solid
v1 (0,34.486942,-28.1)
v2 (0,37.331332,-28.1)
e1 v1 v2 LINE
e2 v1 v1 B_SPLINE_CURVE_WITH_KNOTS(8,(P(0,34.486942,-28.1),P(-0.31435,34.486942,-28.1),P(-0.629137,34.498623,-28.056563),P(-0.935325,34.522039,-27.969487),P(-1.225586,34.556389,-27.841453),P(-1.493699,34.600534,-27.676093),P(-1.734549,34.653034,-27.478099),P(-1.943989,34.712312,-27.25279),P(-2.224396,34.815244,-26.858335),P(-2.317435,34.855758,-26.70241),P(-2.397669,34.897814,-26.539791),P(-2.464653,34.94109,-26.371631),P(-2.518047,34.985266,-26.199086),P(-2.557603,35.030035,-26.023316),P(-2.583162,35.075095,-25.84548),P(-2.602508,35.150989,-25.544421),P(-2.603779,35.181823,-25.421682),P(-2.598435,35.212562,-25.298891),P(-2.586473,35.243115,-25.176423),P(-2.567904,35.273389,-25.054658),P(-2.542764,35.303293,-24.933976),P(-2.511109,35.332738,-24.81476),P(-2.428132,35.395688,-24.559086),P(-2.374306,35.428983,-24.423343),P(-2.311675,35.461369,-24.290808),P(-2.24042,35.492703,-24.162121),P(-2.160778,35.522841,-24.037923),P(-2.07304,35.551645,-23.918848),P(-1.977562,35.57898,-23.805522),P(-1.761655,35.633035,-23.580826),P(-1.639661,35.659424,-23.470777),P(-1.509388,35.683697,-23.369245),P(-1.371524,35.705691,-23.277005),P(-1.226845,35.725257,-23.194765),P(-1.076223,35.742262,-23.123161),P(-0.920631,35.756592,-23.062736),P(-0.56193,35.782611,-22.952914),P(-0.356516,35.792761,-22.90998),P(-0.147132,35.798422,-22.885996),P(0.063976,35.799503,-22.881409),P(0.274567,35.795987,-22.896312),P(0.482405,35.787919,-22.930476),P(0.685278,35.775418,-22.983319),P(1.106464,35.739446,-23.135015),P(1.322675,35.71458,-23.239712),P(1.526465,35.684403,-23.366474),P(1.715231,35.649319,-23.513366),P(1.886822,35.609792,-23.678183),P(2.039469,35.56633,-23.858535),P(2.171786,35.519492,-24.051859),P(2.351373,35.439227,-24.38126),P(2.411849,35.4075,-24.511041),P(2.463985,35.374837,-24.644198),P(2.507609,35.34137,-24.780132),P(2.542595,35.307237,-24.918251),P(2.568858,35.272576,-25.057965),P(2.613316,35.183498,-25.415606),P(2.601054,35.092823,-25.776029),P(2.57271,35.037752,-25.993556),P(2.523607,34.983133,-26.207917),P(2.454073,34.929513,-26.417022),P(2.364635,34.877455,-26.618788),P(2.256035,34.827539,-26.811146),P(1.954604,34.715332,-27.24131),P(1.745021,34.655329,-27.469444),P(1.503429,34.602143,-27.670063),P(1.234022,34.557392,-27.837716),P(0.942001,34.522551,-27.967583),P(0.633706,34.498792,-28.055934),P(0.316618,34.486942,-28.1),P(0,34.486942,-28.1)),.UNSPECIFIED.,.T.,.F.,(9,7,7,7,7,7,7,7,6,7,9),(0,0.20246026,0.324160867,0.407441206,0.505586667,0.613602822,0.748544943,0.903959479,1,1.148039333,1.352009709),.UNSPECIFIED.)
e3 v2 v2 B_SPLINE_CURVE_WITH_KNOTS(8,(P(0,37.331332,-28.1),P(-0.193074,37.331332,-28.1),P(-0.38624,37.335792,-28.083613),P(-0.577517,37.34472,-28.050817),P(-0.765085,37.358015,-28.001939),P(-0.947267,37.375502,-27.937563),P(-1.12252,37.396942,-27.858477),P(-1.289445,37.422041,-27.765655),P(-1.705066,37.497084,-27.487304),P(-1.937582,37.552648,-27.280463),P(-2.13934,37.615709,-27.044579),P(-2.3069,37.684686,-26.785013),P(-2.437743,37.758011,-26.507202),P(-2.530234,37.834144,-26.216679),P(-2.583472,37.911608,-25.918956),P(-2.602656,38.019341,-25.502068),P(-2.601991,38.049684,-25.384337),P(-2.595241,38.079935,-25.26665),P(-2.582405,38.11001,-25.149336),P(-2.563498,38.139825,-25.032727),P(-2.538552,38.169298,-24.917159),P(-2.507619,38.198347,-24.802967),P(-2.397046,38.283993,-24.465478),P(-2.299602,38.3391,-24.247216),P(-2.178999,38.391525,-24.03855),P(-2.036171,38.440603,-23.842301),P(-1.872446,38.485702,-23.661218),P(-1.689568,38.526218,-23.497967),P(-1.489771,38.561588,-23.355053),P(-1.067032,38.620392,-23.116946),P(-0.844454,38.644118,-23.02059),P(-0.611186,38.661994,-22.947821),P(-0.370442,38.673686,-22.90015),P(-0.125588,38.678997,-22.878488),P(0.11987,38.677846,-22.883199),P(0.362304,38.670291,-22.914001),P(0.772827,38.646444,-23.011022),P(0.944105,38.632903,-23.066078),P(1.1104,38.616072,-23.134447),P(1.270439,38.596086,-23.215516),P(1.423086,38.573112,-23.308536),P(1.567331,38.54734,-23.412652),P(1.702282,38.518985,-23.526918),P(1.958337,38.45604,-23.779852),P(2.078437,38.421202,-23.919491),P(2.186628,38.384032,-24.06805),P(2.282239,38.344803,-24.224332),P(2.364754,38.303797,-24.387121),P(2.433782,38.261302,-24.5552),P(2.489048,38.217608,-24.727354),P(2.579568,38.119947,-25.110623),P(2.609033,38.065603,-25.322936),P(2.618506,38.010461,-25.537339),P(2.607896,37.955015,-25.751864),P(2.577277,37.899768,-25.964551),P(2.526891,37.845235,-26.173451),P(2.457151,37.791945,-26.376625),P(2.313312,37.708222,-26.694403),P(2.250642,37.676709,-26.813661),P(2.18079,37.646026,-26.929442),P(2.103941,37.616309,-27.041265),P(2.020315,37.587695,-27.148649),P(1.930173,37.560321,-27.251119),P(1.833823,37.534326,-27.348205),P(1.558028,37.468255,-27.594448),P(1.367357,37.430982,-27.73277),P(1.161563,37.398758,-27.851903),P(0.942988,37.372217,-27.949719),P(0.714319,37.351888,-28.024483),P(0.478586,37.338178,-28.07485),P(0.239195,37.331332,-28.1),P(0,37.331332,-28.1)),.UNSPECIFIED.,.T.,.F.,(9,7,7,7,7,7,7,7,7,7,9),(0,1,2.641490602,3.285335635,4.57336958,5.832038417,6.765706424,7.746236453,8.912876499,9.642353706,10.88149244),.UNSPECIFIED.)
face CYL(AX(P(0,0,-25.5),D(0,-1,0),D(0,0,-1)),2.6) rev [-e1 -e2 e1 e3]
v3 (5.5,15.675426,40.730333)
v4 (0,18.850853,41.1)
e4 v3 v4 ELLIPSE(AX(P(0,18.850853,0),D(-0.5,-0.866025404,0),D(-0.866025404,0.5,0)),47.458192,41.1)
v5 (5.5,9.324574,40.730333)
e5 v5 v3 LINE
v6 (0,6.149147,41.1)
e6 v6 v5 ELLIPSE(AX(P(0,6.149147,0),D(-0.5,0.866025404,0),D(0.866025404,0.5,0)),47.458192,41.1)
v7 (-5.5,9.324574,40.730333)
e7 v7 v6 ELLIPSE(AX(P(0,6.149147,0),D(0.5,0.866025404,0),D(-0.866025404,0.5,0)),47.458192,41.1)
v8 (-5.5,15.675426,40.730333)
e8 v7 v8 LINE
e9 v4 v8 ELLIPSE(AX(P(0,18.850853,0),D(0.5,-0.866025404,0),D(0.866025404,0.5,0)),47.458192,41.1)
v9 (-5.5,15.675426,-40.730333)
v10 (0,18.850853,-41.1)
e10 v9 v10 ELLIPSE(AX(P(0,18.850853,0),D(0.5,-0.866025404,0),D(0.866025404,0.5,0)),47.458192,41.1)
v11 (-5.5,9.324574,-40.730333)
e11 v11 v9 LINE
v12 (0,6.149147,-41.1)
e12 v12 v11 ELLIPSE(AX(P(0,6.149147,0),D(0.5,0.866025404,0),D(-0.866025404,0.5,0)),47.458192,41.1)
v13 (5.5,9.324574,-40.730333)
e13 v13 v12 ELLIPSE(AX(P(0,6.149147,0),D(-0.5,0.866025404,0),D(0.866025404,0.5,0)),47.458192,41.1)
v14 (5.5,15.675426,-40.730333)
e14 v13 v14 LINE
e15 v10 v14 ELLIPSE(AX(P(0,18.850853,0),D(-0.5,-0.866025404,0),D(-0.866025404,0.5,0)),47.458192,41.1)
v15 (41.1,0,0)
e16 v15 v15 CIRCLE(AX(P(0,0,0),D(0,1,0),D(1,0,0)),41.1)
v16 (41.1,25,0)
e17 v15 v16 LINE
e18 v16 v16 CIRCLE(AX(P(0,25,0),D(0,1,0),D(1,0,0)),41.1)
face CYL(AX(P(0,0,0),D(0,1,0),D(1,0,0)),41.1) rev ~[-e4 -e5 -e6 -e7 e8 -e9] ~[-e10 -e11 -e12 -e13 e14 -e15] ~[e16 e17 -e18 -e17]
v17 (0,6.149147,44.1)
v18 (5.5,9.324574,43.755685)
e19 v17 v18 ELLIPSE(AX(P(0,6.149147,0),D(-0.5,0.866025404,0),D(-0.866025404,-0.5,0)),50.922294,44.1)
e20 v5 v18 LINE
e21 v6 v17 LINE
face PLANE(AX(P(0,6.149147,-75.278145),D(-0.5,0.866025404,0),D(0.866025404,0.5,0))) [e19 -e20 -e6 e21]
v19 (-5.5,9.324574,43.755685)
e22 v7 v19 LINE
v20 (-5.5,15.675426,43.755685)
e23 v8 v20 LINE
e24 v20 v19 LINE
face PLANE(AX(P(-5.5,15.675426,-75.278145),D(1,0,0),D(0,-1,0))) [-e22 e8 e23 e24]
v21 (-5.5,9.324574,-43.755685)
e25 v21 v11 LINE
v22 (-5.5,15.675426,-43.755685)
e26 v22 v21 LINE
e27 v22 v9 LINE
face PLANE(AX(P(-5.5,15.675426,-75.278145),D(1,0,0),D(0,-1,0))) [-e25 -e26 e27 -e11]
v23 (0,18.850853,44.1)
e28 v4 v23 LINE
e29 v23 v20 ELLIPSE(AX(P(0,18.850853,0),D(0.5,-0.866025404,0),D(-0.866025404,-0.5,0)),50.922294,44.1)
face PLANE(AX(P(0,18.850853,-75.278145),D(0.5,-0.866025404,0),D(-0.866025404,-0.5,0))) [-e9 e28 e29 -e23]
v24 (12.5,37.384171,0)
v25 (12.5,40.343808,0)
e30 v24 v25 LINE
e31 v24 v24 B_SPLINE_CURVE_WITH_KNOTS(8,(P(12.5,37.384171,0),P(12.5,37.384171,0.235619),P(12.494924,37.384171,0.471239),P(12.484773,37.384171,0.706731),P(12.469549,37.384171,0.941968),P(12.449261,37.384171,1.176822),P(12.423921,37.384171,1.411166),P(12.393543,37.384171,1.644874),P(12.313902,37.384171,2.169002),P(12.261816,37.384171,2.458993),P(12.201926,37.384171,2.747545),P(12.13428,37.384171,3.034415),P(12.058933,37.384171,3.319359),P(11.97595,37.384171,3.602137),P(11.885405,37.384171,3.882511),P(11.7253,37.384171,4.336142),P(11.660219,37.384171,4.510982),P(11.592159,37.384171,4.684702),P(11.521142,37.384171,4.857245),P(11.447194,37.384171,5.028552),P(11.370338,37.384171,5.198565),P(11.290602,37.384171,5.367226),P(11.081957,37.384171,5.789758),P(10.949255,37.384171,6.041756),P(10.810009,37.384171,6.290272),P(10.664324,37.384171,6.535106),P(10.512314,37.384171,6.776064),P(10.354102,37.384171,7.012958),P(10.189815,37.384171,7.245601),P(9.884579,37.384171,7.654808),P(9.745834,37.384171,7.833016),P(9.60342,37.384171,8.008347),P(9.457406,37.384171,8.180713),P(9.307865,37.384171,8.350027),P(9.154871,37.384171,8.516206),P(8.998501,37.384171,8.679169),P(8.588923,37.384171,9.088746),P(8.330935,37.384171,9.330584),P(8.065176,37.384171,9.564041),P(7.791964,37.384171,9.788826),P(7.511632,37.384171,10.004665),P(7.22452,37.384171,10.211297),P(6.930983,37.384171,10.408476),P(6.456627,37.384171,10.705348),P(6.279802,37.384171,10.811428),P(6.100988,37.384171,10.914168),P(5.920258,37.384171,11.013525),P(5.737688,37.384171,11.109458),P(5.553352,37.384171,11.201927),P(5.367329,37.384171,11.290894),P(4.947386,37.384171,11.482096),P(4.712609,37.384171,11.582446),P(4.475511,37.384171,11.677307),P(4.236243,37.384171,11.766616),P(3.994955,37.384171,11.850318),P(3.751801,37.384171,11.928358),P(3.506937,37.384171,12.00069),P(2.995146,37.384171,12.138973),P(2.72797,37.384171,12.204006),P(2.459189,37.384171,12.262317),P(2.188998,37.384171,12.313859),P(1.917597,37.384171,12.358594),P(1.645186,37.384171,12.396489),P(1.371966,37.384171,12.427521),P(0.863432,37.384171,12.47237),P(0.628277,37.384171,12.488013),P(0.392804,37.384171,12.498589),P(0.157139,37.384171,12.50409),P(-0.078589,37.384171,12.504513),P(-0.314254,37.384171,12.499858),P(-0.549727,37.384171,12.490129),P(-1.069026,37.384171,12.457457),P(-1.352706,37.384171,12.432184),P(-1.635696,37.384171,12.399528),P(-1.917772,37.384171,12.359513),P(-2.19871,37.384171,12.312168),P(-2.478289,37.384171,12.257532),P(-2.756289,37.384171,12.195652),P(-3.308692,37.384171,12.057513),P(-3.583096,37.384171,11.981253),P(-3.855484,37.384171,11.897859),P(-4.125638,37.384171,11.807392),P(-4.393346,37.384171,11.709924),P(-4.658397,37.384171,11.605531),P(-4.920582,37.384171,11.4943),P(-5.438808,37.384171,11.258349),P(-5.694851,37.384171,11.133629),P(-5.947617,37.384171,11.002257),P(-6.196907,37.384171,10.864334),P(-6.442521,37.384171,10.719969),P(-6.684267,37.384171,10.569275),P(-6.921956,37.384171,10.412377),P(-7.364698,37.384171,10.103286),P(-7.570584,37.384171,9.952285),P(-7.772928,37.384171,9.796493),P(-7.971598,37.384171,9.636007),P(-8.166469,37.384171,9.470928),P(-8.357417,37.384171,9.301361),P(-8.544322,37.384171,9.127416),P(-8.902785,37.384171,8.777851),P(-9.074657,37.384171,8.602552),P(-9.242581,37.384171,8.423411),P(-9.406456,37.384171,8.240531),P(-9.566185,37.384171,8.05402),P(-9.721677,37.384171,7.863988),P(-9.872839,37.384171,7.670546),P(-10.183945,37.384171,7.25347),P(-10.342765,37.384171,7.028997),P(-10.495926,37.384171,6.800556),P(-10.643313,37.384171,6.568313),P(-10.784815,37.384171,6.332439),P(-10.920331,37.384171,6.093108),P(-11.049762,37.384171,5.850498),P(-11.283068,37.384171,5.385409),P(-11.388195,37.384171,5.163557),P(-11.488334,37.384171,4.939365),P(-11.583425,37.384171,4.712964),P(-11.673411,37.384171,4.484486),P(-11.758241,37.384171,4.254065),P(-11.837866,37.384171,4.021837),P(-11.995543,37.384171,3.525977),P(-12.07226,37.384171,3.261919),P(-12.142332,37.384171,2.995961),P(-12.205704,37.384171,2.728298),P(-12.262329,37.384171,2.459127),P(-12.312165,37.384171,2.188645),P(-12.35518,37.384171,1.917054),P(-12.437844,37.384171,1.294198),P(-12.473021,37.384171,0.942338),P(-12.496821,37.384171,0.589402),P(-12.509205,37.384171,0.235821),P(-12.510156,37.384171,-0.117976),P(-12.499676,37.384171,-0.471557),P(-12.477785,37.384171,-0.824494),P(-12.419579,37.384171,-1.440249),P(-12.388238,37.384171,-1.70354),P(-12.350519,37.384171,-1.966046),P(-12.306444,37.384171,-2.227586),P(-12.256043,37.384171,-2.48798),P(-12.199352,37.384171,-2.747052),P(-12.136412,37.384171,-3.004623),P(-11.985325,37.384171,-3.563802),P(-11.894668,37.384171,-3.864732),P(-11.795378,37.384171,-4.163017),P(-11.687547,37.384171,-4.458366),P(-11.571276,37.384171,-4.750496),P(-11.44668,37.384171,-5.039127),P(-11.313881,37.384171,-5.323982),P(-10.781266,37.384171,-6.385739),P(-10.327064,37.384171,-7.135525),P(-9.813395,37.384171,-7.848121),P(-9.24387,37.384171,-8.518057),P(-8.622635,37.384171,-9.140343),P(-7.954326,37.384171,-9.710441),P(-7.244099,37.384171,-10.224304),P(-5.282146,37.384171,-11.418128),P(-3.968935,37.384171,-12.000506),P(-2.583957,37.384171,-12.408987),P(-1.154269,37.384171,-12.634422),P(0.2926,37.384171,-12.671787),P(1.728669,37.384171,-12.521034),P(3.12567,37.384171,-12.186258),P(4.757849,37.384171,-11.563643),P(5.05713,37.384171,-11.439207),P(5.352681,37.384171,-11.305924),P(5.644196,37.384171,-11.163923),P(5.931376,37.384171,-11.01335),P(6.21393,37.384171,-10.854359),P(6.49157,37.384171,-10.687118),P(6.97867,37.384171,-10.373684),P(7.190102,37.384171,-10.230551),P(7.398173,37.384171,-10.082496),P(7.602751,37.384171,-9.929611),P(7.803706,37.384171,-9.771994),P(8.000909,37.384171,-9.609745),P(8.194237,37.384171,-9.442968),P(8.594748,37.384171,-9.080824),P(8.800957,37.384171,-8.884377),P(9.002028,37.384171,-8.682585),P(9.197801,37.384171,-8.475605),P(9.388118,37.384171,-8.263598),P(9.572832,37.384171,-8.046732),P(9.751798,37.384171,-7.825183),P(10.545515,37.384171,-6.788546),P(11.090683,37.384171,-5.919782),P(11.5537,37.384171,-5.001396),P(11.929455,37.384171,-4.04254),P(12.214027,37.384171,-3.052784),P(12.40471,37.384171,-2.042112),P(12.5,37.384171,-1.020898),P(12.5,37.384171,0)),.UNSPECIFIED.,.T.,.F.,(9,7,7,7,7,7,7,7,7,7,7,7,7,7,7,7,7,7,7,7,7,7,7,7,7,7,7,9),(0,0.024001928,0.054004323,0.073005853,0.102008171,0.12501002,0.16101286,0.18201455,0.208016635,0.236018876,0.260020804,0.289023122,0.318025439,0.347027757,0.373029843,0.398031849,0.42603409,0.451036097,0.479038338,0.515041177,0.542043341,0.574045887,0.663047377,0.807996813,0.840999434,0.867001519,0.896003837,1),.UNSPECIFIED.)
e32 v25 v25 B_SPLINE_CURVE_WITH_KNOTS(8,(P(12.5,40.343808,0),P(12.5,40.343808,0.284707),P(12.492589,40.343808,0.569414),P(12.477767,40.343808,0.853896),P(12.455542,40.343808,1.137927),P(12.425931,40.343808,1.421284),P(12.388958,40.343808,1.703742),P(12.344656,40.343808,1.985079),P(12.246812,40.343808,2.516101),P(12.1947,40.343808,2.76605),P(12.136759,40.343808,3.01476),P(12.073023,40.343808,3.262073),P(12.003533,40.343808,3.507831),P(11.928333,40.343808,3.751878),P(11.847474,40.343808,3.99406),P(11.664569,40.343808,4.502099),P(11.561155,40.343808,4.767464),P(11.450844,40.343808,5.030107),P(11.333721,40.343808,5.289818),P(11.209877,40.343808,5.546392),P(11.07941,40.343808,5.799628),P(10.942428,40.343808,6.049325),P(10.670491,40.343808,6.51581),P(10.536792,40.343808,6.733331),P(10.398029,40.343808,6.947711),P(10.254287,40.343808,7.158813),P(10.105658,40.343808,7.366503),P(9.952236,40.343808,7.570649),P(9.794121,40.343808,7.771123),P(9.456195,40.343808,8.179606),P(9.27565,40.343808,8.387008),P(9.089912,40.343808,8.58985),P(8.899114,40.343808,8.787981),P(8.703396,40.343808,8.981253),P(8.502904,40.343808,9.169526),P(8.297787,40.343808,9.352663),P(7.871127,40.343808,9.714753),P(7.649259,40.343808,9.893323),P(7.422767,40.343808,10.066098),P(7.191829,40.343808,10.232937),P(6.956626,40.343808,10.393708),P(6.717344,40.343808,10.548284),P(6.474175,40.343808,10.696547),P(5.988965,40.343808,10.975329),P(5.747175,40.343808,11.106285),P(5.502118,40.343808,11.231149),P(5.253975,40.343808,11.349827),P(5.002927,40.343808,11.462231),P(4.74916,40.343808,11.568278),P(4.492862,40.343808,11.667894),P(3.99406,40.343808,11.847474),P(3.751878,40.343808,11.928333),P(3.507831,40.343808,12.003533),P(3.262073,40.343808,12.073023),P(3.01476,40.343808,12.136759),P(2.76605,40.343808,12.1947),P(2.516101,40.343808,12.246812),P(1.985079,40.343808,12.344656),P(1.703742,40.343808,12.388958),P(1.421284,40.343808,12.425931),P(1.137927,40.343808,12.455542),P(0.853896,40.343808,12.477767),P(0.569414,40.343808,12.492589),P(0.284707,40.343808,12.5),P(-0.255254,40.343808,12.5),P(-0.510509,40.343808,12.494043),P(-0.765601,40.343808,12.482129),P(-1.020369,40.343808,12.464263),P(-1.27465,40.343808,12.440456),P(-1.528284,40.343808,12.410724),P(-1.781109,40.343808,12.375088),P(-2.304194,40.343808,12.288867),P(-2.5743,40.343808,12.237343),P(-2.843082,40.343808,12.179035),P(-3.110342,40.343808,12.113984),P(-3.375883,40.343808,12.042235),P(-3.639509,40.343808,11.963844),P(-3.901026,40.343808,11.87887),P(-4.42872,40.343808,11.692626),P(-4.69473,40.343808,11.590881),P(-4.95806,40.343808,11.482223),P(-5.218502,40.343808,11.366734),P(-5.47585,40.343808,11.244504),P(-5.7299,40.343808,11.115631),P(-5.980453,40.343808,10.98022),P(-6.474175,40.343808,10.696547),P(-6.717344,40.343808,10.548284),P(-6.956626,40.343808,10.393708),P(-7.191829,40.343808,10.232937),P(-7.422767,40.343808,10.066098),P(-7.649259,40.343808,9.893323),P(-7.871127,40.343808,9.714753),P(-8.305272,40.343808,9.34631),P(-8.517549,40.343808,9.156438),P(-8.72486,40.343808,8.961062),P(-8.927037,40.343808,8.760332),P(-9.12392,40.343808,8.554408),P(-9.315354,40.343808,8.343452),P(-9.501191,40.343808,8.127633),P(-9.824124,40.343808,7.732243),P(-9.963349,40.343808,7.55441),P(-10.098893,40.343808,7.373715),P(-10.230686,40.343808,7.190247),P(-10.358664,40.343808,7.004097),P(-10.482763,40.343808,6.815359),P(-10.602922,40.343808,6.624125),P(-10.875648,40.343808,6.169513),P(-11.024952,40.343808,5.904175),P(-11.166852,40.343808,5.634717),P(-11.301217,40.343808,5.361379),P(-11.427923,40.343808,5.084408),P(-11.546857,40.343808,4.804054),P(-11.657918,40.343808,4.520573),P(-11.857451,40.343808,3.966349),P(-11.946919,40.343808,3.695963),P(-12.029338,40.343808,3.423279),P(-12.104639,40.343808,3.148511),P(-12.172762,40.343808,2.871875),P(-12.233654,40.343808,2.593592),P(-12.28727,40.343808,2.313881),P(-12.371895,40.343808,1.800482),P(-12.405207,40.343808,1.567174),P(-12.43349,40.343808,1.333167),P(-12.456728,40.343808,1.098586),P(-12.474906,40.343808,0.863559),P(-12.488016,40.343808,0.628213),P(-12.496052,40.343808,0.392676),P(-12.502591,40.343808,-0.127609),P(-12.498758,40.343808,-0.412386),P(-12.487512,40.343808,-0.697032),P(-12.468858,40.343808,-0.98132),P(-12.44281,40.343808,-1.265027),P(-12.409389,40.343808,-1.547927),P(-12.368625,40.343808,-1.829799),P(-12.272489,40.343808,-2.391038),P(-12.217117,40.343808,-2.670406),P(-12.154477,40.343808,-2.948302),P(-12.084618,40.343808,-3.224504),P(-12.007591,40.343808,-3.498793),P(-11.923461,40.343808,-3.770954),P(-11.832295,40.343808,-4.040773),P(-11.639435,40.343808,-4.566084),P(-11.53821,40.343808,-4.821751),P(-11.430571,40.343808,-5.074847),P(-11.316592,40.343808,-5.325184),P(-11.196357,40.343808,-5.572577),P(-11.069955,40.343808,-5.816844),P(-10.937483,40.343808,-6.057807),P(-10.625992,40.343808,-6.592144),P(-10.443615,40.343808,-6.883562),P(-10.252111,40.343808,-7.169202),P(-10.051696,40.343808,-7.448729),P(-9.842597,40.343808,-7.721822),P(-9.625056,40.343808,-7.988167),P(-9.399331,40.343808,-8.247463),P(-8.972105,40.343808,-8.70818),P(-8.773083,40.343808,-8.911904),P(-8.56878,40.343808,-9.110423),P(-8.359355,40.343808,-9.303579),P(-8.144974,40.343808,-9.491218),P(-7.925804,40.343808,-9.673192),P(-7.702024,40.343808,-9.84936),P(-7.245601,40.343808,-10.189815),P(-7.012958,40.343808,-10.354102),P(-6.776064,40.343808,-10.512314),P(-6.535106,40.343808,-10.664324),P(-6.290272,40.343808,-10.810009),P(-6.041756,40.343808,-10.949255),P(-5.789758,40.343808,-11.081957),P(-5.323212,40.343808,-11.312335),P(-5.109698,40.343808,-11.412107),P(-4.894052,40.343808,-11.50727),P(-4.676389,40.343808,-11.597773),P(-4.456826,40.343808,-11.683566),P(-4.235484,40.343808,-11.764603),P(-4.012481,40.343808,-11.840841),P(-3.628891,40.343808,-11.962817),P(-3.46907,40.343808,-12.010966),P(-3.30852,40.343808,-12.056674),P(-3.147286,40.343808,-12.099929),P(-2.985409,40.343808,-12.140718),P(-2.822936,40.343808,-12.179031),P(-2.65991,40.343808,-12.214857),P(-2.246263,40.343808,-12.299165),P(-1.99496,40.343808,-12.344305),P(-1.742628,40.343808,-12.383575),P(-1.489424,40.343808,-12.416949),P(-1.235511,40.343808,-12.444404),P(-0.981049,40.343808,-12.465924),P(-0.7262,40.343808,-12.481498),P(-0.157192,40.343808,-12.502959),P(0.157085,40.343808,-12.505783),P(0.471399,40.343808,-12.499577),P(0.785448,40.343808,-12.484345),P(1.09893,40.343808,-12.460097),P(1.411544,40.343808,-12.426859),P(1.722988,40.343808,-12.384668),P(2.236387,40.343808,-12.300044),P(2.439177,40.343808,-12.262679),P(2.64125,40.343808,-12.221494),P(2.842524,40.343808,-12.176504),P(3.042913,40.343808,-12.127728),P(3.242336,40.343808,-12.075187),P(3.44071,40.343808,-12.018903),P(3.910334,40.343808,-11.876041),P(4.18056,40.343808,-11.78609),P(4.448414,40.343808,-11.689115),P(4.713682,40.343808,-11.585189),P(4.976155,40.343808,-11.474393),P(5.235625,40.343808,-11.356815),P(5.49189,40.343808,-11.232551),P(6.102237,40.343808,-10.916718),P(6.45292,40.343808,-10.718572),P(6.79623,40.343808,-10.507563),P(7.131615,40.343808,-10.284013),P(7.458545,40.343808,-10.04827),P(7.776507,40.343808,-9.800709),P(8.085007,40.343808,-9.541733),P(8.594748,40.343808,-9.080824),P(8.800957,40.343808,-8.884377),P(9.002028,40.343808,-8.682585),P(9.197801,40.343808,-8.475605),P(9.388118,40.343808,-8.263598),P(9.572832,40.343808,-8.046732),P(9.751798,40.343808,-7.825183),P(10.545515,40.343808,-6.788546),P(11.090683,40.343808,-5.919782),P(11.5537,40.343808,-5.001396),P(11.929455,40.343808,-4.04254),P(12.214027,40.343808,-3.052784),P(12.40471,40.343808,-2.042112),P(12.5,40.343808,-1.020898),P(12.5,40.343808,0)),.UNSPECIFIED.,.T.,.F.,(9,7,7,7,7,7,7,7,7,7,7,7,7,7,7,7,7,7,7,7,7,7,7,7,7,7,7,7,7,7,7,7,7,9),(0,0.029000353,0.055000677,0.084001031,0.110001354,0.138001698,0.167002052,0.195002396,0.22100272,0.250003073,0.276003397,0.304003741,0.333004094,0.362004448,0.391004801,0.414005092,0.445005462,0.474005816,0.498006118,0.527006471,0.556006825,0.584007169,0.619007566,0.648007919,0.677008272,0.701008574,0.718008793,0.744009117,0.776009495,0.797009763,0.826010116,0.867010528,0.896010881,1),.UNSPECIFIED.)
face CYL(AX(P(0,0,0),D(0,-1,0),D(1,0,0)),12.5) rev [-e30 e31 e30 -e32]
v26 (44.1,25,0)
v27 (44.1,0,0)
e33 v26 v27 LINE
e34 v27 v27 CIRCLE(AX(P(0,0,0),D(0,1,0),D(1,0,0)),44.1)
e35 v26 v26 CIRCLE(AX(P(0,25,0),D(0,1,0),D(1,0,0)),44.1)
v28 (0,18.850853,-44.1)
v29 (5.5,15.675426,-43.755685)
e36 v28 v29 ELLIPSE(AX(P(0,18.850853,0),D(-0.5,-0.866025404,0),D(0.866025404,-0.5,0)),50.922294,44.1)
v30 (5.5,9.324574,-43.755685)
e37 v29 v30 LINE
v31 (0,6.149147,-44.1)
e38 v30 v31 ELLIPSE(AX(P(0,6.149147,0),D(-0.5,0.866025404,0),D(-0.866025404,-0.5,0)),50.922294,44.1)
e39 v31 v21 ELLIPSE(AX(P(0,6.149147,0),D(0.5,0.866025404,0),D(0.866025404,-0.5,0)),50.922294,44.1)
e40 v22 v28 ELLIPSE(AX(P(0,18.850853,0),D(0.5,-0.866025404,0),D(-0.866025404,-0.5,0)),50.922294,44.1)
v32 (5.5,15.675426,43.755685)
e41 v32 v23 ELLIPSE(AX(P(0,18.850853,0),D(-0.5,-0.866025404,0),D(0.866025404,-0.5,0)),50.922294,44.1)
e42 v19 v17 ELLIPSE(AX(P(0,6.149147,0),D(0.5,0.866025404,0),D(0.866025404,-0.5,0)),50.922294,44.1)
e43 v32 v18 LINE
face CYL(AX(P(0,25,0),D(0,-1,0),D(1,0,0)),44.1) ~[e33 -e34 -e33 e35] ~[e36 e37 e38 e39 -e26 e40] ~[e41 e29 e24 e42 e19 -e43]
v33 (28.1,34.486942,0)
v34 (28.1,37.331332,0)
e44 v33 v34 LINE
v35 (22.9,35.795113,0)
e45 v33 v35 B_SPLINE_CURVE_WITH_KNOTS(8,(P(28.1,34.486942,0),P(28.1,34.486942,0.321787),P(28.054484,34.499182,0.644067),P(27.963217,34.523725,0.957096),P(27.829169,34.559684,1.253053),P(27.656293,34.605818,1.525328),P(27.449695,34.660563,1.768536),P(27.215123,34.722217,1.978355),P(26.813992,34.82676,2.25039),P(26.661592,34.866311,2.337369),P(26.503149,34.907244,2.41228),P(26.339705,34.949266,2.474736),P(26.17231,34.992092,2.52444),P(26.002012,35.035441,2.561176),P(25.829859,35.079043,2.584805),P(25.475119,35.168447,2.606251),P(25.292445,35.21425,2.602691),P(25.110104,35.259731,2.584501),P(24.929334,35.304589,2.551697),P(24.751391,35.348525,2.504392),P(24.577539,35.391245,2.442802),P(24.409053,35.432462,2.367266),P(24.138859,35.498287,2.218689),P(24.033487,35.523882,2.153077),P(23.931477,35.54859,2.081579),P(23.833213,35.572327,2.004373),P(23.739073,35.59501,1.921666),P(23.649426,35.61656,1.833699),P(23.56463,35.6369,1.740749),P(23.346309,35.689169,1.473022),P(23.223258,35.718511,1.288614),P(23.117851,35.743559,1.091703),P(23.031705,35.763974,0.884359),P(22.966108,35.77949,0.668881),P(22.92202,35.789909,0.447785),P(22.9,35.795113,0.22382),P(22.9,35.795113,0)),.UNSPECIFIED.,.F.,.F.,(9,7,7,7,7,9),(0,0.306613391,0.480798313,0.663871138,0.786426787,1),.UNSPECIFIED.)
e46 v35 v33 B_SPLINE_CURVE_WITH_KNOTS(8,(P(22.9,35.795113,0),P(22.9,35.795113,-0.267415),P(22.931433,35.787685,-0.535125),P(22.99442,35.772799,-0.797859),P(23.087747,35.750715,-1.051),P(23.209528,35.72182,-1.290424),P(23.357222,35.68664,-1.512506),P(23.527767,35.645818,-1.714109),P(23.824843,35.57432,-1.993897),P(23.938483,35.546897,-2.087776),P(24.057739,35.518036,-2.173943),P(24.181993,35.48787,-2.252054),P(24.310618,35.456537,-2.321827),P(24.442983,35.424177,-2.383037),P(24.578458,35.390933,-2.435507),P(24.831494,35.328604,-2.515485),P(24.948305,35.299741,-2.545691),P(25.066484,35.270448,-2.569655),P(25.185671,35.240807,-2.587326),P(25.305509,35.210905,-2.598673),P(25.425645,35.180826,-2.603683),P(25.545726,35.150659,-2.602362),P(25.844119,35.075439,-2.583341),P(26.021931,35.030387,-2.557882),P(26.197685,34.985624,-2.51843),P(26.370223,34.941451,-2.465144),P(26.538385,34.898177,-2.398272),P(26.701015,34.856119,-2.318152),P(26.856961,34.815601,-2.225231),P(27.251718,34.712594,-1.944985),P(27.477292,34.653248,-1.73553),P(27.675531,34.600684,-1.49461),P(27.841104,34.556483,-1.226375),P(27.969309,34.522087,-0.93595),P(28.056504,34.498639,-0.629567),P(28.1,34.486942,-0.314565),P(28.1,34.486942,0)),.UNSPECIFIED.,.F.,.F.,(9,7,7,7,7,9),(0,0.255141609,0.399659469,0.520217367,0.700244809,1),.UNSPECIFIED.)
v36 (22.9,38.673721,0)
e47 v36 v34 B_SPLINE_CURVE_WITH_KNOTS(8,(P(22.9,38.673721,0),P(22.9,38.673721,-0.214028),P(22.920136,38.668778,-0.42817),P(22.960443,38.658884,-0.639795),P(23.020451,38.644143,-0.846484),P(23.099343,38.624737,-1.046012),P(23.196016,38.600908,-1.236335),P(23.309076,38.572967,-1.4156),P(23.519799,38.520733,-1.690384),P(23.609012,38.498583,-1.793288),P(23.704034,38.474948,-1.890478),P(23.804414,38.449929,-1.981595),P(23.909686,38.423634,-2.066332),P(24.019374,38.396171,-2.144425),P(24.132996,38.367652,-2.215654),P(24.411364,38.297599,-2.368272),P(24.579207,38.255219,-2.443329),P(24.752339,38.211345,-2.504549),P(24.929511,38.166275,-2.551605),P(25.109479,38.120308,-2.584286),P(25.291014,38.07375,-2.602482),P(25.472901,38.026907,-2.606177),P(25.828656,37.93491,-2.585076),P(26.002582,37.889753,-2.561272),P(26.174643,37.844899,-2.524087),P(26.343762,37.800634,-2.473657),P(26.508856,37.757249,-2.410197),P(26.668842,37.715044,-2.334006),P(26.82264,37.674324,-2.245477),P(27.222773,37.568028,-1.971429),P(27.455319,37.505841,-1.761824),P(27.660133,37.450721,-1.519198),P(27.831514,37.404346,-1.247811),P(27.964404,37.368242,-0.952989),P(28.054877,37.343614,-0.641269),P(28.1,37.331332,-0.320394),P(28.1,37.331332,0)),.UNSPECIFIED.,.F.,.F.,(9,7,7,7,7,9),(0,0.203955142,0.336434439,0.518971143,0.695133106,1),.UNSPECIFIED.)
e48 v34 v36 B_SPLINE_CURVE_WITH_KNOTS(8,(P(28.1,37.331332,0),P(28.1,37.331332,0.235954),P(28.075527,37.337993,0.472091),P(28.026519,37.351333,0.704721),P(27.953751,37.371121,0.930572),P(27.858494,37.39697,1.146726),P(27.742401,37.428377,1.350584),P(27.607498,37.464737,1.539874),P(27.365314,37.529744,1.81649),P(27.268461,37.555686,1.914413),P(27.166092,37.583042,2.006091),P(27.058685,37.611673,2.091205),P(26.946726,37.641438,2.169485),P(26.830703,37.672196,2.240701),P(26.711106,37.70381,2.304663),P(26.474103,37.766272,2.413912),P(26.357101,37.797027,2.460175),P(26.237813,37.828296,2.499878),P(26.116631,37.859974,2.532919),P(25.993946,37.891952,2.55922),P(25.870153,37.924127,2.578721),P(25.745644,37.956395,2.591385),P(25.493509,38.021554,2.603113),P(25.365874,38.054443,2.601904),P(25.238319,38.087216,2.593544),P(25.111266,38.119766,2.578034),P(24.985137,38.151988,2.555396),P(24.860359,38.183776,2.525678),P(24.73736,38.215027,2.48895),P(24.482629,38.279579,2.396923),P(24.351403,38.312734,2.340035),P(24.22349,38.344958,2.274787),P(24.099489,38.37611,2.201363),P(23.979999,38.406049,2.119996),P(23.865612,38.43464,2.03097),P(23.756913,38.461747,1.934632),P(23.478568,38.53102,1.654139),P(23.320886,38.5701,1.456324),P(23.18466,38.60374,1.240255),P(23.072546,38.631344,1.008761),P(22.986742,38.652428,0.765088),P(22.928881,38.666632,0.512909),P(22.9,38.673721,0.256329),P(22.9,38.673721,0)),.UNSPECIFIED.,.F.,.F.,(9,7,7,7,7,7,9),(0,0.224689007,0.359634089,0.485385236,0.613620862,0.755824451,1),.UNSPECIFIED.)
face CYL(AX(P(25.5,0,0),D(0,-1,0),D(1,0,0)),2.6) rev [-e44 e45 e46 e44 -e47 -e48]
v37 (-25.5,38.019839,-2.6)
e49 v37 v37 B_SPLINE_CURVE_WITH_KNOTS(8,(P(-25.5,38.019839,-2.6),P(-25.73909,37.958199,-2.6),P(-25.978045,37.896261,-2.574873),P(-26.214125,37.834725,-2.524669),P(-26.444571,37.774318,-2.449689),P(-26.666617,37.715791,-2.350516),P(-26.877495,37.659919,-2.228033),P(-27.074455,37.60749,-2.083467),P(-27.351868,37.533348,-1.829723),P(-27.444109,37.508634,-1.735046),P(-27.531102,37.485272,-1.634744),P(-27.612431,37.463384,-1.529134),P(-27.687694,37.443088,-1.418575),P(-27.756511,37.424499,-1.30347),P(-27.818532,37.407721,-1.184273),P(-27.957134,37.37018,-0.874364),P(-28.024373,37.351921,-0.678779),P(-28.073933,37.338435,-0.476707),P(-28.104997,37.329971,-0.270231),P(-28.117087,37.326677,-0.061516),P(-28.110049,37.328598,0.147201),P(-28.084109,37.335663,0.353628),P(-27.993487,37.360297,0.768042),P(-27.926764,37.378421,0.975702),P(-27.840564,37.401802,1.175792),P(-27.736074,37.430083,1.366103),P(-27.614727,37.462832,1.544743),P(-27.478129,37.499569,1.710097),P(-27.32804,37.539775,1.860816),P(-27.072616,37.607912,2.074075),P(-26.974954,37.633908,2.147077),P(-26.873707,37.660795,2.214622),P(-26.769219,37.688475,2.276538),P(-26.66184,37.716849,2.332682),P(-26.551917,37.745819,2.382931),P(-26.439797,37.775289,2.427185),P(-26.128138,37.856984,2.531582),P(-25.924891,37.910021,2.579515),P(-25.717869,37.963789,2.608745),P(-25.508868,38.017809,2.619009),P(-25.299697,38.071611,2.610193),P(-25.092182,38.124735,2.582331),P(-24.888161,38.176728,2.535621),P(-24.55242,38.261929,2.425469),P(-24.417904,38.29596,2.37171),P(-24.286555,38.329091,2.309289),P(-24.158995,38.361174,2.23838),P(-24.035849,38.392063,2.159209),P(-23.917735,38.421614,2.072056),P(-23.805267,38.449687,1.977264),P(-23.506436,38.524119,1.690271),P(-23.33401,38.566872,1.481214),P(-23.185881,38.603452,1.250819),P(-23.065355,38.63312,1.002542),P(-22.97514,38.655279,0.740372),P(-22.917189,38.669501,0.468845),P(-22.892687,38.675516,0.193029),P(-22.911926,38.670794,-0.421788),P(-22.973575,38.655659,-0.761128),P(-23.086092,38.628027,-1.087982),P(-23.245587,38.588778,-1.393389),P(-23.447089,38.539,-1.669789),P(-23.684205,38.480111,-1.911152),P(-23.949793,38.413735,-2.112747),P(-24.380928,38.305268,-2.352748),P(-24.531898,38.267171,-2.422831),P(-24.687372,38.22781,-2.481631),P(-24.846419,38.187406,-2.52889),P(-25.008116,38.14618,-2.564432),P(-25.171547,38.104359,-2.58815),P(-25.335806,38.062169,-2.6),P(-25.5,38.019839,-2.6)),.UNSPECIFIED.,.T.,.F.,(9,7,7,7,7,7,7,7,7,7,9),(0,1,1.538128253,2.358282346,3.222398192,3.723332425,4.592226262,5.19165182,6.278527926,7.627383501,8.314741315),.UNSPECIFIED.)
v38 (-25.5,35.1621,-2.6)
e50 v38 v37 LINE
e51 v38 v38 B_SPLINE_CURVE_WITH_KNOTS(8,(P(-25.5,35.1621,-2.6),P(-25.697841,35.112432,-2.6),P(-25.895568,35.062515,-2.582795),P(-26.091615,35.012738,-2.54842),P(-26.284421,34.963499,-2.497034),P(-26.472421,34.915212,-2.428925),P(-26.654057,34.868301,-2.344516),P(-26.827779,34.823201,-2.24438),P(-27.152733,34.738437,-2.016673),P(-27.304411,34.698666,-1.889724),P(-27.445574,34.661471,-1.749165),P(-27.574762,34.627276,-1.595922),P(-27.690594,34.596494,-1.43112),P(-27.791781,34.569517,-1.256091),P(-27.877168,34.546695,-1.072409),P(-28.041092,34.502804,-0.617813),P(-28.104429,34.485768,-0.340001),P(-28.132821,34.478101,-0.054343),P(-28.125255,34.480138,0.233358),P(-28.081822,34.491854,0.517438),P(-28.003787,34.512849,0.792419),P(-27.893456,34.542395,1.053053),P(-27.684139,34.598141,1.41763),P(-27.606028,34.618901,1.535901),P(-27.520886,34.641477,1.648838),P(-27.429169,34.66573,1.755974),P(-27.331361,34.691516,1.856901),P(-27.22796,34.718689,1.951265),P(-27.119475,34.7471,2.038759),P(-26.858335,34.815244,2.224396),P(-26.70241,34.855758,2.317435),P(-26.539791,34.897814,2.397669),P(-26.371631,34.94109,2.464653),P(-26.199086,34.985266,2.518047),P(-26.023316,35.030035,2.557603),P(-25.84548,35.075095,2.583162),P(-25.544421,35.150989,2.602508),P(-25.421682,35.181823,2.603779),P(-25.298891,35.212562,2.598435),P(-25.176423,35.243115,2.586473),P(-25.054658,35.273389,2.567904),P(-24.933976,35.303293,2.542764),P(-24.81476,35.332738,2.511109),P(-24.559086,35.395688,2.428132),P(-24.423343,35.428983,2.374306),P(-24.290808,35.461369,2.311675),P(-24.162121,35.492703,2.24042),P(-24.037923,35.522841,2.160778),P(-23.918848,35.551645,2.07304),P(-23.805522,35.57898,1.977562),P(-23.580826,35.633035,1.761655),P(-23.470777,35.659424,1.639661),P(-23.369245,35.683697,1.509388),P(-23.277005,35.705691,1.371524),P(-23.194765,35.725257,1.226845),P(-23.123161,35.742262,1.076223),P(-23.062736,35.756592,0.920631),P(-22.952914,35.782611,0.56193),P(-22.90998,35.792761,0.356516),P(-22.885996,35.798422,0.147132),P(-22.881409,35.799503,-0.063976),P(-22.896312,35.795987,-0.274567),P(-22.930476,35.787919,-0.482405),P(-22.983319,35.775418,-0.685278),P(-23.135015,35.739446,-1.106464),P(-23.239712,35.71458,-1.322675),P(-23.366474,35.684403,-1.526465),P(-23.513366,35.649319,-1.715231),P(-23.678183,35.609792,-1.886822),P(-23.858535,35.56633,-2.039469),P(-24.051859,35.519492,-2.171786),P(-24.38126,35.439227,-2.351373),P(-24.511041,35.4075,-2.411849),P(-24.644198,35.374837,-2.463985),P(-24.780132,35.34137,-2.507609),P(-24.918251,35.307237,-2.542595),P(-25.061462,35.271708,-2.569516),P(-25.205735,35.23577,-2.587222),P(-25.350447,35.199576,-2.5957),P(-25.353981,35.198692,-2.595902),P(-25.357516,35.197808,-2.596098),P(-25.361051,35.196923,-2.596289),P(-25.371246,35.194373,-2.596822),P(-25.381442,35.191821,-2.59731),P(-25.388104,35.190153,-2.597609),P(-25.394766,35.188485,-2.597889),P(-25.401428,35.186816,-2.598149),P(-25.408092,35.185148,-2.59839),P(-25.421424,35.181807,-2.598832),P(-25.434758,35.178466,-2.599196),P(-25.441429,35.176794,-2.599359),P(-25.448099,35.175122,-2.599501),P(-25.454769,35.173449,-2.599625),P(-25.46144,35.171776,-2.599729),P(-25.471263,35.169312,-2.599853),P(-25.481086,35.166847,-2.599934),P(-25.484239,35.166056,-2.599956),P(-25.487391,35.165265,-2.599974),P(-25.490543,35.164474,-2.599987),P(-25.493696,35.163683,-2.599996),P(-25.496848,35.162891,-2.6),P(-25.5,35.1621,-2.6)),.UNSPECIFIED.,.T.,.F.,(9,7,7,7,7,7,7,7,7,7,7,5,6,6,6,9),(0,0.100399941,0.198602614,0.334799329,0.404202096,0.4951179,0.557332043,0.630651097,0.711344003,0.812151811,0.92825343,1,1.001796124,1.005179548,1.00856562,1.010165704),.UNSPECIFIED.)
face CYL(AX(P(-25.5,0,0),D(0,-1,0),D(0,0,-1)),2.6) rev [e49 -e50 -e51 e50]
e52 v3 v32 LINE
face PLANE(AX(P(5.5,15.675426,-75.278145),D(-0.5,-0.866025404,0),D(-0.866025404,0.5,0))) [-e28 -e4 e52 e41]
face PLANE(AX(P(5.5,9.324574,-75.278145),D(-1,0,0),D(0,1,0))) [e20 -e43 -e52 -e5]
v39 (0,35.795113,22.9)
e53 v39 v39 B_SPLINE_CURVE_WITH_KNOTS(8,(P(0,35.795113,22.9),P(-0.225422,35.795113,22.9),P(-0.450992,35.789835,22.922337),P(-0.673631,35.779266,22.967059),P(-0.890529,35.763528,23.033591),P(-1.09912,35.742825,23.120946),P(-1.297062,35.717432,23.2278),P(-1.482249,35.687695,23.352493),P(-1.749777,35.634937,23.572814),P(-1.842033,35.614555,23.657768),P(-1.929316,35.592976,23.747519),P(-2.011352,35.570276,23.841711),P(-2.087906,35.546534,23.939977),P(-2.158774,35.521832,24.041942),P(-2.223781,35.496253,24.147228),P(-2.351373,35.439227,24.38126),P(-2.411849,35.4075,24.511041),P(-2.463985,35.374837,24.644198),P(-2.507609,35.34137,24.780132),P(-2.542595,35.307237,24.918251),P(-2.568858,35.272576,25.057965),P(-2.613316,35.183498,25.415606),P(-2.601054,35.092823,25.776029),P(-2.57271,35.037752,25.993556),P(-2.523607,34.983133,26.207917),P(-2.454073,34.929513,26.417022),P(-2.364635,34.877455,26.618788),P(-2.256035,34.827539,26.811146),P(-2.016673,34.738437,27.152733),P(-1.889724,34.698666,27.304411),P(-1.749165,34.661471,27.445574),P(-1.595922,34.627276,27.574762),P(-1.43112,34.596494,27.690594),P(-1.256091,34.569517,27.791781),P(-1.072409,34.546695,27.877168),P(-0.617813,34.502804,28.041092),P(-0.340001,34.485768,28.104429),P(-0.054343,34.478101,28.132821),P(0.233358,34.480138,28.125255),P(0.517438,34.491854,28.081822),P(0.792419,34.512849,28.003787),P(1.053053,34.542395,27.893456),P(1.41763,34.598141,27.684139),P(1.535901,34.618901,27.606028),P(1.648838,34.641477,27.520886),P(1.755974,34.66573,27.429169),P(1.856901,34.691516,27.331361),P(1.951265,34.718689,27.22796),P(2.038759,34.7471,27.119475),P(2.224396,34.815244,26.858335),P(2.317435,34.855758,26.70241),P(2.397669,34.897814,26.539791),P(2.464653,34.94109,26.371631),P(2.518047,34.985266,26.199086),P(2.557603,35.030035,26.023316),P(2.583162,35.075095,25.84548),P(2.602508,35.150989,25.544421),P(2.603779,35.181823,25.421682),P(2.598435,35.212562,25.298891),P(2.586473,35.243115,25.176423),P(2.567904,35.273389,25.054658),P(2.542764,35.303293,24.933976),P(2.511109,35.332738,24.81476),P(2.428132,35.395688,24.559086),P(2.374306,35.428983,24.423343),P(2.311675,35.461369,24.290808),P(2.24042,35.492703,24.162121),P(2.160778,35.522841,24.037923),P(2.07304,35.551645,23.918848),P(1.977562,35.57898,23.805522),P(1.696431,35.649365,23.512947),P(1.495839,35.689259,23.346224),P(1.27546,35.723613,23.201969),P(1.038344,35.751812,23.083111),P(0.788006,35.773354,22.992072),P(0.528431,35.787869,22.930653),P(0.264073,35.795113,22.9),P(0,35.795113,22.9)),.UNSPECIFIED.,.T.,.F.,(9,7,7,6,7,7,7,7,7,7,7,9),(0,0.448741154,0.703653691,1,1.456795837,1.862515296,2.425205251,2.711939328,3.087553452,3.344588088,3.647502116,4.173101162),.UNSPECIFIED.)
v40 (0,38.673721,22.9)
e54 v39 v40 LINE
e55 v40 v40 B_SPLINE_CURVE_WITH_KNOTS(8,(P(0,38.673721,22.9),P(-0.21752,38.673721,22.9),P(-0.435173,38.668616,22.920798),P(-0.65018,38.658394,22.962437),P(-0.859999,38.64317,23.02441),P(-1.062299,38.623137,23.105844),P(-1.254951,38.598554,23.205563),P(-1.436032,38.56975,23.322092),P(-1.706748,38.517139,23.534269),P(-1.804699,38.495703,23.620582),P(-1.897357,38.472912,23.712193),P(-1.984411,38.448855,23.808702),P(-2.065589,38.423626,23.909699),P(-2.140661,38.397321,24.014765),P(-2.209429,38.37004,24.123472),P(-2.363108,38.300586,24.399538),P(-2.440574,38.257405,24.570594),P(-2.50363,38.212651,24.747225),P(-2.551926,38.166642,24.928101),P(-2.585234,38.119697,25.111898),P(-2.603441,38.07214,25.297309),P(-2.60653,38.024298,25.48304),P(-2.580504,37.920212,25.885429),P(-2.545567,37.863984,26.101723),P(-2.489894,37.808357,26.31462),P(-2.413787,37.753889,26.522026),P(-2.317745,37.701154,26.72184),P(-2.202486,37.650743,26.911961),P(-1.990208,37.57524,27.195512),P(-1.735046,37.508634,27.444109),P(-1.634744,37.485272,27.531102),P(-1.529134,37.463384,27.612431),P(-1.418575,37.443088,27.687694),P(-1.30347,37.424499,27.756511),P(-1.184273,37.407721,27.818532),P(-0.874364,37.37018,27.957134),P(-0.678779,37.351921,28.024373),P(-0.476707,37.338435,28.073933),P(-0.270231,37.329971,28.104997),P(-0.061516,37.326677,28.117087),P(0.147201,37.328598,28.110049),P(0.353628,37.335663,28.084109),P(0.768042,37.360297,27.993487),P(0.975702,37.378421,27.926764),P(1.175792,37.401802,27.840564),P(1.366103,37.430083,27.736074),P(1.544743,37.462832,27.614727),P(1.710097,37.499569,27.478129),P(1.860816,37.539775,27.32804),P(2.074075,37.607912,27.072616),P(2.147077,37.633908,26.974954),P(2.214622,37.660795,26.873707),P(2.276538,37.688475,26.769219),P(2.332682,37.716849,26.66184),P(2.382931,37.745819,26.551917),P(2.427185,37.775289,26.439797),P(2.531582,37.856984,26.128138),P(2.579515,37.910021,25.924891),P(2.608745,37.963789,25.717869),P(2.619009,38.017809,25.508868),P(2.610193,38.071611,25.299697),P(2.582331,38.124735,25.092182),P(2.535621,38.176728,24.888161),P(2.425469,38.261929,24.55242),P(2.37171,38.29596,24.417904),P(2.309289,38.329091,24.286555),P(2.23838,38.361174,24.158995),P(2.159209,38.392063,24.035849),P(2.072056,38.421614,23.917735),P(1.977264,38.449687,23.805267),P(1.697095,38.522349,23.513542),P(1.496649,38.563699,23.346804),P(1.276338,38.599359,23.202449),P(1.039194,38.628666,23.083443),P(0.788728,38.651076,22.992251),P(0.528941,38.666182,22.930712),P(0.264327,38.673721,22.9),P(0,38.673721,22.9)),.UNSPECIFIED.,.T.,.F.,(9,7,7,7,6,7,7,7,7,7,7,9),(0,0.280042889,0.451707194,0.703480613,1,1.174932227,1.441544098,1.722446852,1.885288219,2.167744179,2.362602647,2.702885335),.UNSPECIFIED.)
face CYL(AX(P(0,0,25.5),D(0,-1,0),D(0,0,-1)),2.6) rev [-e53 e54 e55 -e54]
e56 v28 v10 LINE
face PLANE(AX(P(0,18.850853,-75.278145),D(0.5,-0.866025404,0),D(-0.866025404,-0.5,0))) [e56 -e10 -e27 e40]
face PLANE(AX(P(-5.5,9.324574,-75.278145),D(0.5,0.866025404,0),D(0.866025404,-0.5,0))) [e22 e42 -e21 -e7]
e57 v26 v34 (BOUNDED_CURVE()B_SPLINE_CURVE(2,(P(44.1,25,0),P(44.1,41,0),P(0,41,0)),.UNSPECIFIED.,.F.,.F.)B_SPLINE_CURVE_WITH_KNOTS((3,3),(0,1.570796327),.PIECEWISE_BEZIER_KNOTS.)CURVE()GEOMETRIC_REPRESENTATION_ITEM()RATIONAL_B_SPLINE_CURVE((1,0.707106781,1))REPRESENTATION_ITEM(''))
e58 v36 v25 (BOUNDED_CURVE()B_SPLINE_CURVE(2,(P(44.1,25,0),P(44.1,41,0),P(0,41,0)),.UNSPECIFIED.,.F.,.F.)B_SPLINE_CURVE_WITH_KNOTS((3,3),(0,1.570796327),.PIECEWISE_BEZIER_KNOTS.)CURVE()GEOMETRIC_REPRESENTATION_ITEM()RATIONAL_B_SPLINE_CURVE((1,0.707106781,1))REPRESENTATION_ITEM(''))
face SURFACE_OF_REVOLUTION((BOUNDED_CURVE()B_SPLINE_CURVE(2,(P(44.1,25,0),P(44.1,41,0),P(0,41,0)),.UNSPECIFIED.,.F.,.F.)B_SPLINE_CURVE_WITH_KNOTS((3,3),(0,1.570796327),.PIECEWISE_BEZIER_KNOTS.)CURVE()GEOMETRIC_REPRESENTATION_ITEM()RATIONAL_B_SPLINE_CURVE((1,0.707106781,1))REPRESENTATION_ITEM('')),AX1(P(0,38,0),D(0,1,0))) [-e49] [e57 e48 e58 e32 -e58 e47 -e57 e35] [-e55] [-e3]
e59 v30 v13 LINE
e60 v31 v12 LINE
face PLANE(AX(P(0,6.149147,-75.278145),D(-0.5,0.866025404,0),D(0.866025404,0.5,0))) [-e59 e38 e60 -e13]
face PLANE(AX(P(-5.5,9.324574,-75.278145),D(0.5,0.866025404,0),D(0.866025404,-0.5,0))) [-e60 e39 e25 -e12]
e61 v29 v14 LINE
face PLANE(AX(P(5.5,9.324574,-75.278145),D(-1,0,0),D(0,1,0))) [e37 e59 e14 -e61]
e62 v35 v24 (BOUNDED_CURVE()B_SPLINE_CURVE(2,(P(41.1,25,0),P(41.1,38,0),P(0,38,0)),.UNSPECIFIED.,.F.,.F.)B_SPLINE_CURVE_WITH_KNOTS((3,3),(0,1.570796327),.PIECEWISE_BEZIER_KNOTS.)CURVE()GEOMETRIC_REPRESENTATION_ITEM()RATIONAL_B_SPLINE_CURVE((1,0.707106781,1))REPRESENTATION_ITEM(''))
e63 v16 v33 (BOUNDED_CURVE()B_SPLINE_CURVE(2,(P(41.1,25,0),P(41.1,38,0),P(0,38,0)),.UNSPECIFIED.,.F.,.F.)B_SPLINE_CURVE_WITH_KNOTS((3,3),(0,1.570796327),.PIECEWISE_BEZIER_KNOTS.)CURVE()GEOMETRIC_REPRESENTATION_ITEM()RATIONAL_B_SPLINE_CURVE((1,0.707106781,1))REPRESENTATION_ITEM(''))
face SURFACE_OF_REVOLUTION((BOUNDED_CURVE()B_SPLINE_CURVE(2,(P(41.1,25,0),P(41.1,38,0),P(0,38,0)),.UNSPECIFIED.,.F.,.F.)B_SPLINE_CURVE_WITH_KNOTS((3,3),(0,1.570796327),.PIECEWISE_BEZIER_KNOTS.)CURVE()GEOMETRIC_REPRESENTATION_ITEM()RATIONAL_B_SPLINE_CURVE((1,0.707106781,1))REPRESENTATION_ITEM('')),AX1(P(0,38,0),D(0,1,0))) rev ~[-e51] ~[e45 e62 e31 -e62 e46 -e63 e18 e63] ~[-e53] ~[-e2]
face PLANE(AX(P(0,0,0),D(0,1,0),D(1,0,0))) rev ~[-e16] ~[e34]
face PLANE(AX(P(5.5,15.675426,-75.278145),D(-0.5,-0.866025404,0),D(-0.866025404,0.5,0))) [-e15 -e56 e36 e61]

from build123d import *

# Parameters (mm, degrees)
SKETCH2_R               = 2.6
SKETCH2_R_2             = 12.5
CUT_EXTRUDE2_DEPTH      = 75.636586376
CUT_EXTRUDE4_DEPTH      = 75.2781452
CUT_EXTRUDE4_DEPTH_BACK = 75.2781452


with BuildPart() as part:
    # Sketch1 → Revolve1 (revolve)
    with BuildSketch(Plane.XY):
        with BuildLine():
            Line((41.1, 0), (41.1, 25))
            add(Edge.make_bspline(
                [(41.1, 25), (41.1, 38), (0, 38)],
                knots=[0, 0, 0, 1.570796327, 1.570796327, 1.570796327], degree=2, weights=[1, 0.707106781, 1]))
            Line((0, 38), (0, 41))
            add(Edge.make_bspline(
                [(44.1, 25), (44.1, 41), (0, 41)],
                knots=[0, 0, 0, 1.570796327, 1.570796327, 1.570796327], degree=2, weights=[1, 0.707106781, 1]))
            Line((44.1, 25), (44.1, 0))
            Line((44.1, 0), (41.1, 0))
        make_face()
    revolve(axis=Axis((0, 38, 0), (0, 1, 0)))

    # Sketch2 → Cut-Extrude2 (cut, through all)
    with BuildSketch(Plane(origin=(0, 0, 0), x_dir=(1, 0, 0), z_dir=(0, 1, 0))):
        with Locations((25.5, 0)):
            Circle(SKETCH2_R)
        with Locations(Location((0, -25.5, 0), (0, 0, 90))):
            Circle(SKETCH2_R)
        with Locations(Location((-25.5, 0, 0), (0, 0, 90))):
            Circle(SKETCH2_R)
        with Locations(Location((0, 25.5, 0), (0, 0, 90))):
            Circle(SKETCH2_R)
        Circle(SKETCH2_R_2)
    extrude(amount=CUT_EXTRUDE2_DEPTH, mode=Mode.SUBTRACT)

    # Sketch3 → Cut-Extrude4 (cut, two sides: drawn at the far end of the back side and taken through both)
    with BuildSketch(Plane.XY.offset(-CUT_EXTRUDE4_DEPTH_BACK)):
        Polygon((0, 18.850852961), (-5.5, 15.675426481), (-5.5, 9.324573519), (0, 6.149147039), (5.5, 9.324573519), (5.5, 15.675426481), align=None)
    extrude(amount=CUT_EXTRUDE4_DEPTH + CUT_EXTRUDE4_DEPTH_BACK, mode=Mode.SUBTRACT)


solid = part.part
